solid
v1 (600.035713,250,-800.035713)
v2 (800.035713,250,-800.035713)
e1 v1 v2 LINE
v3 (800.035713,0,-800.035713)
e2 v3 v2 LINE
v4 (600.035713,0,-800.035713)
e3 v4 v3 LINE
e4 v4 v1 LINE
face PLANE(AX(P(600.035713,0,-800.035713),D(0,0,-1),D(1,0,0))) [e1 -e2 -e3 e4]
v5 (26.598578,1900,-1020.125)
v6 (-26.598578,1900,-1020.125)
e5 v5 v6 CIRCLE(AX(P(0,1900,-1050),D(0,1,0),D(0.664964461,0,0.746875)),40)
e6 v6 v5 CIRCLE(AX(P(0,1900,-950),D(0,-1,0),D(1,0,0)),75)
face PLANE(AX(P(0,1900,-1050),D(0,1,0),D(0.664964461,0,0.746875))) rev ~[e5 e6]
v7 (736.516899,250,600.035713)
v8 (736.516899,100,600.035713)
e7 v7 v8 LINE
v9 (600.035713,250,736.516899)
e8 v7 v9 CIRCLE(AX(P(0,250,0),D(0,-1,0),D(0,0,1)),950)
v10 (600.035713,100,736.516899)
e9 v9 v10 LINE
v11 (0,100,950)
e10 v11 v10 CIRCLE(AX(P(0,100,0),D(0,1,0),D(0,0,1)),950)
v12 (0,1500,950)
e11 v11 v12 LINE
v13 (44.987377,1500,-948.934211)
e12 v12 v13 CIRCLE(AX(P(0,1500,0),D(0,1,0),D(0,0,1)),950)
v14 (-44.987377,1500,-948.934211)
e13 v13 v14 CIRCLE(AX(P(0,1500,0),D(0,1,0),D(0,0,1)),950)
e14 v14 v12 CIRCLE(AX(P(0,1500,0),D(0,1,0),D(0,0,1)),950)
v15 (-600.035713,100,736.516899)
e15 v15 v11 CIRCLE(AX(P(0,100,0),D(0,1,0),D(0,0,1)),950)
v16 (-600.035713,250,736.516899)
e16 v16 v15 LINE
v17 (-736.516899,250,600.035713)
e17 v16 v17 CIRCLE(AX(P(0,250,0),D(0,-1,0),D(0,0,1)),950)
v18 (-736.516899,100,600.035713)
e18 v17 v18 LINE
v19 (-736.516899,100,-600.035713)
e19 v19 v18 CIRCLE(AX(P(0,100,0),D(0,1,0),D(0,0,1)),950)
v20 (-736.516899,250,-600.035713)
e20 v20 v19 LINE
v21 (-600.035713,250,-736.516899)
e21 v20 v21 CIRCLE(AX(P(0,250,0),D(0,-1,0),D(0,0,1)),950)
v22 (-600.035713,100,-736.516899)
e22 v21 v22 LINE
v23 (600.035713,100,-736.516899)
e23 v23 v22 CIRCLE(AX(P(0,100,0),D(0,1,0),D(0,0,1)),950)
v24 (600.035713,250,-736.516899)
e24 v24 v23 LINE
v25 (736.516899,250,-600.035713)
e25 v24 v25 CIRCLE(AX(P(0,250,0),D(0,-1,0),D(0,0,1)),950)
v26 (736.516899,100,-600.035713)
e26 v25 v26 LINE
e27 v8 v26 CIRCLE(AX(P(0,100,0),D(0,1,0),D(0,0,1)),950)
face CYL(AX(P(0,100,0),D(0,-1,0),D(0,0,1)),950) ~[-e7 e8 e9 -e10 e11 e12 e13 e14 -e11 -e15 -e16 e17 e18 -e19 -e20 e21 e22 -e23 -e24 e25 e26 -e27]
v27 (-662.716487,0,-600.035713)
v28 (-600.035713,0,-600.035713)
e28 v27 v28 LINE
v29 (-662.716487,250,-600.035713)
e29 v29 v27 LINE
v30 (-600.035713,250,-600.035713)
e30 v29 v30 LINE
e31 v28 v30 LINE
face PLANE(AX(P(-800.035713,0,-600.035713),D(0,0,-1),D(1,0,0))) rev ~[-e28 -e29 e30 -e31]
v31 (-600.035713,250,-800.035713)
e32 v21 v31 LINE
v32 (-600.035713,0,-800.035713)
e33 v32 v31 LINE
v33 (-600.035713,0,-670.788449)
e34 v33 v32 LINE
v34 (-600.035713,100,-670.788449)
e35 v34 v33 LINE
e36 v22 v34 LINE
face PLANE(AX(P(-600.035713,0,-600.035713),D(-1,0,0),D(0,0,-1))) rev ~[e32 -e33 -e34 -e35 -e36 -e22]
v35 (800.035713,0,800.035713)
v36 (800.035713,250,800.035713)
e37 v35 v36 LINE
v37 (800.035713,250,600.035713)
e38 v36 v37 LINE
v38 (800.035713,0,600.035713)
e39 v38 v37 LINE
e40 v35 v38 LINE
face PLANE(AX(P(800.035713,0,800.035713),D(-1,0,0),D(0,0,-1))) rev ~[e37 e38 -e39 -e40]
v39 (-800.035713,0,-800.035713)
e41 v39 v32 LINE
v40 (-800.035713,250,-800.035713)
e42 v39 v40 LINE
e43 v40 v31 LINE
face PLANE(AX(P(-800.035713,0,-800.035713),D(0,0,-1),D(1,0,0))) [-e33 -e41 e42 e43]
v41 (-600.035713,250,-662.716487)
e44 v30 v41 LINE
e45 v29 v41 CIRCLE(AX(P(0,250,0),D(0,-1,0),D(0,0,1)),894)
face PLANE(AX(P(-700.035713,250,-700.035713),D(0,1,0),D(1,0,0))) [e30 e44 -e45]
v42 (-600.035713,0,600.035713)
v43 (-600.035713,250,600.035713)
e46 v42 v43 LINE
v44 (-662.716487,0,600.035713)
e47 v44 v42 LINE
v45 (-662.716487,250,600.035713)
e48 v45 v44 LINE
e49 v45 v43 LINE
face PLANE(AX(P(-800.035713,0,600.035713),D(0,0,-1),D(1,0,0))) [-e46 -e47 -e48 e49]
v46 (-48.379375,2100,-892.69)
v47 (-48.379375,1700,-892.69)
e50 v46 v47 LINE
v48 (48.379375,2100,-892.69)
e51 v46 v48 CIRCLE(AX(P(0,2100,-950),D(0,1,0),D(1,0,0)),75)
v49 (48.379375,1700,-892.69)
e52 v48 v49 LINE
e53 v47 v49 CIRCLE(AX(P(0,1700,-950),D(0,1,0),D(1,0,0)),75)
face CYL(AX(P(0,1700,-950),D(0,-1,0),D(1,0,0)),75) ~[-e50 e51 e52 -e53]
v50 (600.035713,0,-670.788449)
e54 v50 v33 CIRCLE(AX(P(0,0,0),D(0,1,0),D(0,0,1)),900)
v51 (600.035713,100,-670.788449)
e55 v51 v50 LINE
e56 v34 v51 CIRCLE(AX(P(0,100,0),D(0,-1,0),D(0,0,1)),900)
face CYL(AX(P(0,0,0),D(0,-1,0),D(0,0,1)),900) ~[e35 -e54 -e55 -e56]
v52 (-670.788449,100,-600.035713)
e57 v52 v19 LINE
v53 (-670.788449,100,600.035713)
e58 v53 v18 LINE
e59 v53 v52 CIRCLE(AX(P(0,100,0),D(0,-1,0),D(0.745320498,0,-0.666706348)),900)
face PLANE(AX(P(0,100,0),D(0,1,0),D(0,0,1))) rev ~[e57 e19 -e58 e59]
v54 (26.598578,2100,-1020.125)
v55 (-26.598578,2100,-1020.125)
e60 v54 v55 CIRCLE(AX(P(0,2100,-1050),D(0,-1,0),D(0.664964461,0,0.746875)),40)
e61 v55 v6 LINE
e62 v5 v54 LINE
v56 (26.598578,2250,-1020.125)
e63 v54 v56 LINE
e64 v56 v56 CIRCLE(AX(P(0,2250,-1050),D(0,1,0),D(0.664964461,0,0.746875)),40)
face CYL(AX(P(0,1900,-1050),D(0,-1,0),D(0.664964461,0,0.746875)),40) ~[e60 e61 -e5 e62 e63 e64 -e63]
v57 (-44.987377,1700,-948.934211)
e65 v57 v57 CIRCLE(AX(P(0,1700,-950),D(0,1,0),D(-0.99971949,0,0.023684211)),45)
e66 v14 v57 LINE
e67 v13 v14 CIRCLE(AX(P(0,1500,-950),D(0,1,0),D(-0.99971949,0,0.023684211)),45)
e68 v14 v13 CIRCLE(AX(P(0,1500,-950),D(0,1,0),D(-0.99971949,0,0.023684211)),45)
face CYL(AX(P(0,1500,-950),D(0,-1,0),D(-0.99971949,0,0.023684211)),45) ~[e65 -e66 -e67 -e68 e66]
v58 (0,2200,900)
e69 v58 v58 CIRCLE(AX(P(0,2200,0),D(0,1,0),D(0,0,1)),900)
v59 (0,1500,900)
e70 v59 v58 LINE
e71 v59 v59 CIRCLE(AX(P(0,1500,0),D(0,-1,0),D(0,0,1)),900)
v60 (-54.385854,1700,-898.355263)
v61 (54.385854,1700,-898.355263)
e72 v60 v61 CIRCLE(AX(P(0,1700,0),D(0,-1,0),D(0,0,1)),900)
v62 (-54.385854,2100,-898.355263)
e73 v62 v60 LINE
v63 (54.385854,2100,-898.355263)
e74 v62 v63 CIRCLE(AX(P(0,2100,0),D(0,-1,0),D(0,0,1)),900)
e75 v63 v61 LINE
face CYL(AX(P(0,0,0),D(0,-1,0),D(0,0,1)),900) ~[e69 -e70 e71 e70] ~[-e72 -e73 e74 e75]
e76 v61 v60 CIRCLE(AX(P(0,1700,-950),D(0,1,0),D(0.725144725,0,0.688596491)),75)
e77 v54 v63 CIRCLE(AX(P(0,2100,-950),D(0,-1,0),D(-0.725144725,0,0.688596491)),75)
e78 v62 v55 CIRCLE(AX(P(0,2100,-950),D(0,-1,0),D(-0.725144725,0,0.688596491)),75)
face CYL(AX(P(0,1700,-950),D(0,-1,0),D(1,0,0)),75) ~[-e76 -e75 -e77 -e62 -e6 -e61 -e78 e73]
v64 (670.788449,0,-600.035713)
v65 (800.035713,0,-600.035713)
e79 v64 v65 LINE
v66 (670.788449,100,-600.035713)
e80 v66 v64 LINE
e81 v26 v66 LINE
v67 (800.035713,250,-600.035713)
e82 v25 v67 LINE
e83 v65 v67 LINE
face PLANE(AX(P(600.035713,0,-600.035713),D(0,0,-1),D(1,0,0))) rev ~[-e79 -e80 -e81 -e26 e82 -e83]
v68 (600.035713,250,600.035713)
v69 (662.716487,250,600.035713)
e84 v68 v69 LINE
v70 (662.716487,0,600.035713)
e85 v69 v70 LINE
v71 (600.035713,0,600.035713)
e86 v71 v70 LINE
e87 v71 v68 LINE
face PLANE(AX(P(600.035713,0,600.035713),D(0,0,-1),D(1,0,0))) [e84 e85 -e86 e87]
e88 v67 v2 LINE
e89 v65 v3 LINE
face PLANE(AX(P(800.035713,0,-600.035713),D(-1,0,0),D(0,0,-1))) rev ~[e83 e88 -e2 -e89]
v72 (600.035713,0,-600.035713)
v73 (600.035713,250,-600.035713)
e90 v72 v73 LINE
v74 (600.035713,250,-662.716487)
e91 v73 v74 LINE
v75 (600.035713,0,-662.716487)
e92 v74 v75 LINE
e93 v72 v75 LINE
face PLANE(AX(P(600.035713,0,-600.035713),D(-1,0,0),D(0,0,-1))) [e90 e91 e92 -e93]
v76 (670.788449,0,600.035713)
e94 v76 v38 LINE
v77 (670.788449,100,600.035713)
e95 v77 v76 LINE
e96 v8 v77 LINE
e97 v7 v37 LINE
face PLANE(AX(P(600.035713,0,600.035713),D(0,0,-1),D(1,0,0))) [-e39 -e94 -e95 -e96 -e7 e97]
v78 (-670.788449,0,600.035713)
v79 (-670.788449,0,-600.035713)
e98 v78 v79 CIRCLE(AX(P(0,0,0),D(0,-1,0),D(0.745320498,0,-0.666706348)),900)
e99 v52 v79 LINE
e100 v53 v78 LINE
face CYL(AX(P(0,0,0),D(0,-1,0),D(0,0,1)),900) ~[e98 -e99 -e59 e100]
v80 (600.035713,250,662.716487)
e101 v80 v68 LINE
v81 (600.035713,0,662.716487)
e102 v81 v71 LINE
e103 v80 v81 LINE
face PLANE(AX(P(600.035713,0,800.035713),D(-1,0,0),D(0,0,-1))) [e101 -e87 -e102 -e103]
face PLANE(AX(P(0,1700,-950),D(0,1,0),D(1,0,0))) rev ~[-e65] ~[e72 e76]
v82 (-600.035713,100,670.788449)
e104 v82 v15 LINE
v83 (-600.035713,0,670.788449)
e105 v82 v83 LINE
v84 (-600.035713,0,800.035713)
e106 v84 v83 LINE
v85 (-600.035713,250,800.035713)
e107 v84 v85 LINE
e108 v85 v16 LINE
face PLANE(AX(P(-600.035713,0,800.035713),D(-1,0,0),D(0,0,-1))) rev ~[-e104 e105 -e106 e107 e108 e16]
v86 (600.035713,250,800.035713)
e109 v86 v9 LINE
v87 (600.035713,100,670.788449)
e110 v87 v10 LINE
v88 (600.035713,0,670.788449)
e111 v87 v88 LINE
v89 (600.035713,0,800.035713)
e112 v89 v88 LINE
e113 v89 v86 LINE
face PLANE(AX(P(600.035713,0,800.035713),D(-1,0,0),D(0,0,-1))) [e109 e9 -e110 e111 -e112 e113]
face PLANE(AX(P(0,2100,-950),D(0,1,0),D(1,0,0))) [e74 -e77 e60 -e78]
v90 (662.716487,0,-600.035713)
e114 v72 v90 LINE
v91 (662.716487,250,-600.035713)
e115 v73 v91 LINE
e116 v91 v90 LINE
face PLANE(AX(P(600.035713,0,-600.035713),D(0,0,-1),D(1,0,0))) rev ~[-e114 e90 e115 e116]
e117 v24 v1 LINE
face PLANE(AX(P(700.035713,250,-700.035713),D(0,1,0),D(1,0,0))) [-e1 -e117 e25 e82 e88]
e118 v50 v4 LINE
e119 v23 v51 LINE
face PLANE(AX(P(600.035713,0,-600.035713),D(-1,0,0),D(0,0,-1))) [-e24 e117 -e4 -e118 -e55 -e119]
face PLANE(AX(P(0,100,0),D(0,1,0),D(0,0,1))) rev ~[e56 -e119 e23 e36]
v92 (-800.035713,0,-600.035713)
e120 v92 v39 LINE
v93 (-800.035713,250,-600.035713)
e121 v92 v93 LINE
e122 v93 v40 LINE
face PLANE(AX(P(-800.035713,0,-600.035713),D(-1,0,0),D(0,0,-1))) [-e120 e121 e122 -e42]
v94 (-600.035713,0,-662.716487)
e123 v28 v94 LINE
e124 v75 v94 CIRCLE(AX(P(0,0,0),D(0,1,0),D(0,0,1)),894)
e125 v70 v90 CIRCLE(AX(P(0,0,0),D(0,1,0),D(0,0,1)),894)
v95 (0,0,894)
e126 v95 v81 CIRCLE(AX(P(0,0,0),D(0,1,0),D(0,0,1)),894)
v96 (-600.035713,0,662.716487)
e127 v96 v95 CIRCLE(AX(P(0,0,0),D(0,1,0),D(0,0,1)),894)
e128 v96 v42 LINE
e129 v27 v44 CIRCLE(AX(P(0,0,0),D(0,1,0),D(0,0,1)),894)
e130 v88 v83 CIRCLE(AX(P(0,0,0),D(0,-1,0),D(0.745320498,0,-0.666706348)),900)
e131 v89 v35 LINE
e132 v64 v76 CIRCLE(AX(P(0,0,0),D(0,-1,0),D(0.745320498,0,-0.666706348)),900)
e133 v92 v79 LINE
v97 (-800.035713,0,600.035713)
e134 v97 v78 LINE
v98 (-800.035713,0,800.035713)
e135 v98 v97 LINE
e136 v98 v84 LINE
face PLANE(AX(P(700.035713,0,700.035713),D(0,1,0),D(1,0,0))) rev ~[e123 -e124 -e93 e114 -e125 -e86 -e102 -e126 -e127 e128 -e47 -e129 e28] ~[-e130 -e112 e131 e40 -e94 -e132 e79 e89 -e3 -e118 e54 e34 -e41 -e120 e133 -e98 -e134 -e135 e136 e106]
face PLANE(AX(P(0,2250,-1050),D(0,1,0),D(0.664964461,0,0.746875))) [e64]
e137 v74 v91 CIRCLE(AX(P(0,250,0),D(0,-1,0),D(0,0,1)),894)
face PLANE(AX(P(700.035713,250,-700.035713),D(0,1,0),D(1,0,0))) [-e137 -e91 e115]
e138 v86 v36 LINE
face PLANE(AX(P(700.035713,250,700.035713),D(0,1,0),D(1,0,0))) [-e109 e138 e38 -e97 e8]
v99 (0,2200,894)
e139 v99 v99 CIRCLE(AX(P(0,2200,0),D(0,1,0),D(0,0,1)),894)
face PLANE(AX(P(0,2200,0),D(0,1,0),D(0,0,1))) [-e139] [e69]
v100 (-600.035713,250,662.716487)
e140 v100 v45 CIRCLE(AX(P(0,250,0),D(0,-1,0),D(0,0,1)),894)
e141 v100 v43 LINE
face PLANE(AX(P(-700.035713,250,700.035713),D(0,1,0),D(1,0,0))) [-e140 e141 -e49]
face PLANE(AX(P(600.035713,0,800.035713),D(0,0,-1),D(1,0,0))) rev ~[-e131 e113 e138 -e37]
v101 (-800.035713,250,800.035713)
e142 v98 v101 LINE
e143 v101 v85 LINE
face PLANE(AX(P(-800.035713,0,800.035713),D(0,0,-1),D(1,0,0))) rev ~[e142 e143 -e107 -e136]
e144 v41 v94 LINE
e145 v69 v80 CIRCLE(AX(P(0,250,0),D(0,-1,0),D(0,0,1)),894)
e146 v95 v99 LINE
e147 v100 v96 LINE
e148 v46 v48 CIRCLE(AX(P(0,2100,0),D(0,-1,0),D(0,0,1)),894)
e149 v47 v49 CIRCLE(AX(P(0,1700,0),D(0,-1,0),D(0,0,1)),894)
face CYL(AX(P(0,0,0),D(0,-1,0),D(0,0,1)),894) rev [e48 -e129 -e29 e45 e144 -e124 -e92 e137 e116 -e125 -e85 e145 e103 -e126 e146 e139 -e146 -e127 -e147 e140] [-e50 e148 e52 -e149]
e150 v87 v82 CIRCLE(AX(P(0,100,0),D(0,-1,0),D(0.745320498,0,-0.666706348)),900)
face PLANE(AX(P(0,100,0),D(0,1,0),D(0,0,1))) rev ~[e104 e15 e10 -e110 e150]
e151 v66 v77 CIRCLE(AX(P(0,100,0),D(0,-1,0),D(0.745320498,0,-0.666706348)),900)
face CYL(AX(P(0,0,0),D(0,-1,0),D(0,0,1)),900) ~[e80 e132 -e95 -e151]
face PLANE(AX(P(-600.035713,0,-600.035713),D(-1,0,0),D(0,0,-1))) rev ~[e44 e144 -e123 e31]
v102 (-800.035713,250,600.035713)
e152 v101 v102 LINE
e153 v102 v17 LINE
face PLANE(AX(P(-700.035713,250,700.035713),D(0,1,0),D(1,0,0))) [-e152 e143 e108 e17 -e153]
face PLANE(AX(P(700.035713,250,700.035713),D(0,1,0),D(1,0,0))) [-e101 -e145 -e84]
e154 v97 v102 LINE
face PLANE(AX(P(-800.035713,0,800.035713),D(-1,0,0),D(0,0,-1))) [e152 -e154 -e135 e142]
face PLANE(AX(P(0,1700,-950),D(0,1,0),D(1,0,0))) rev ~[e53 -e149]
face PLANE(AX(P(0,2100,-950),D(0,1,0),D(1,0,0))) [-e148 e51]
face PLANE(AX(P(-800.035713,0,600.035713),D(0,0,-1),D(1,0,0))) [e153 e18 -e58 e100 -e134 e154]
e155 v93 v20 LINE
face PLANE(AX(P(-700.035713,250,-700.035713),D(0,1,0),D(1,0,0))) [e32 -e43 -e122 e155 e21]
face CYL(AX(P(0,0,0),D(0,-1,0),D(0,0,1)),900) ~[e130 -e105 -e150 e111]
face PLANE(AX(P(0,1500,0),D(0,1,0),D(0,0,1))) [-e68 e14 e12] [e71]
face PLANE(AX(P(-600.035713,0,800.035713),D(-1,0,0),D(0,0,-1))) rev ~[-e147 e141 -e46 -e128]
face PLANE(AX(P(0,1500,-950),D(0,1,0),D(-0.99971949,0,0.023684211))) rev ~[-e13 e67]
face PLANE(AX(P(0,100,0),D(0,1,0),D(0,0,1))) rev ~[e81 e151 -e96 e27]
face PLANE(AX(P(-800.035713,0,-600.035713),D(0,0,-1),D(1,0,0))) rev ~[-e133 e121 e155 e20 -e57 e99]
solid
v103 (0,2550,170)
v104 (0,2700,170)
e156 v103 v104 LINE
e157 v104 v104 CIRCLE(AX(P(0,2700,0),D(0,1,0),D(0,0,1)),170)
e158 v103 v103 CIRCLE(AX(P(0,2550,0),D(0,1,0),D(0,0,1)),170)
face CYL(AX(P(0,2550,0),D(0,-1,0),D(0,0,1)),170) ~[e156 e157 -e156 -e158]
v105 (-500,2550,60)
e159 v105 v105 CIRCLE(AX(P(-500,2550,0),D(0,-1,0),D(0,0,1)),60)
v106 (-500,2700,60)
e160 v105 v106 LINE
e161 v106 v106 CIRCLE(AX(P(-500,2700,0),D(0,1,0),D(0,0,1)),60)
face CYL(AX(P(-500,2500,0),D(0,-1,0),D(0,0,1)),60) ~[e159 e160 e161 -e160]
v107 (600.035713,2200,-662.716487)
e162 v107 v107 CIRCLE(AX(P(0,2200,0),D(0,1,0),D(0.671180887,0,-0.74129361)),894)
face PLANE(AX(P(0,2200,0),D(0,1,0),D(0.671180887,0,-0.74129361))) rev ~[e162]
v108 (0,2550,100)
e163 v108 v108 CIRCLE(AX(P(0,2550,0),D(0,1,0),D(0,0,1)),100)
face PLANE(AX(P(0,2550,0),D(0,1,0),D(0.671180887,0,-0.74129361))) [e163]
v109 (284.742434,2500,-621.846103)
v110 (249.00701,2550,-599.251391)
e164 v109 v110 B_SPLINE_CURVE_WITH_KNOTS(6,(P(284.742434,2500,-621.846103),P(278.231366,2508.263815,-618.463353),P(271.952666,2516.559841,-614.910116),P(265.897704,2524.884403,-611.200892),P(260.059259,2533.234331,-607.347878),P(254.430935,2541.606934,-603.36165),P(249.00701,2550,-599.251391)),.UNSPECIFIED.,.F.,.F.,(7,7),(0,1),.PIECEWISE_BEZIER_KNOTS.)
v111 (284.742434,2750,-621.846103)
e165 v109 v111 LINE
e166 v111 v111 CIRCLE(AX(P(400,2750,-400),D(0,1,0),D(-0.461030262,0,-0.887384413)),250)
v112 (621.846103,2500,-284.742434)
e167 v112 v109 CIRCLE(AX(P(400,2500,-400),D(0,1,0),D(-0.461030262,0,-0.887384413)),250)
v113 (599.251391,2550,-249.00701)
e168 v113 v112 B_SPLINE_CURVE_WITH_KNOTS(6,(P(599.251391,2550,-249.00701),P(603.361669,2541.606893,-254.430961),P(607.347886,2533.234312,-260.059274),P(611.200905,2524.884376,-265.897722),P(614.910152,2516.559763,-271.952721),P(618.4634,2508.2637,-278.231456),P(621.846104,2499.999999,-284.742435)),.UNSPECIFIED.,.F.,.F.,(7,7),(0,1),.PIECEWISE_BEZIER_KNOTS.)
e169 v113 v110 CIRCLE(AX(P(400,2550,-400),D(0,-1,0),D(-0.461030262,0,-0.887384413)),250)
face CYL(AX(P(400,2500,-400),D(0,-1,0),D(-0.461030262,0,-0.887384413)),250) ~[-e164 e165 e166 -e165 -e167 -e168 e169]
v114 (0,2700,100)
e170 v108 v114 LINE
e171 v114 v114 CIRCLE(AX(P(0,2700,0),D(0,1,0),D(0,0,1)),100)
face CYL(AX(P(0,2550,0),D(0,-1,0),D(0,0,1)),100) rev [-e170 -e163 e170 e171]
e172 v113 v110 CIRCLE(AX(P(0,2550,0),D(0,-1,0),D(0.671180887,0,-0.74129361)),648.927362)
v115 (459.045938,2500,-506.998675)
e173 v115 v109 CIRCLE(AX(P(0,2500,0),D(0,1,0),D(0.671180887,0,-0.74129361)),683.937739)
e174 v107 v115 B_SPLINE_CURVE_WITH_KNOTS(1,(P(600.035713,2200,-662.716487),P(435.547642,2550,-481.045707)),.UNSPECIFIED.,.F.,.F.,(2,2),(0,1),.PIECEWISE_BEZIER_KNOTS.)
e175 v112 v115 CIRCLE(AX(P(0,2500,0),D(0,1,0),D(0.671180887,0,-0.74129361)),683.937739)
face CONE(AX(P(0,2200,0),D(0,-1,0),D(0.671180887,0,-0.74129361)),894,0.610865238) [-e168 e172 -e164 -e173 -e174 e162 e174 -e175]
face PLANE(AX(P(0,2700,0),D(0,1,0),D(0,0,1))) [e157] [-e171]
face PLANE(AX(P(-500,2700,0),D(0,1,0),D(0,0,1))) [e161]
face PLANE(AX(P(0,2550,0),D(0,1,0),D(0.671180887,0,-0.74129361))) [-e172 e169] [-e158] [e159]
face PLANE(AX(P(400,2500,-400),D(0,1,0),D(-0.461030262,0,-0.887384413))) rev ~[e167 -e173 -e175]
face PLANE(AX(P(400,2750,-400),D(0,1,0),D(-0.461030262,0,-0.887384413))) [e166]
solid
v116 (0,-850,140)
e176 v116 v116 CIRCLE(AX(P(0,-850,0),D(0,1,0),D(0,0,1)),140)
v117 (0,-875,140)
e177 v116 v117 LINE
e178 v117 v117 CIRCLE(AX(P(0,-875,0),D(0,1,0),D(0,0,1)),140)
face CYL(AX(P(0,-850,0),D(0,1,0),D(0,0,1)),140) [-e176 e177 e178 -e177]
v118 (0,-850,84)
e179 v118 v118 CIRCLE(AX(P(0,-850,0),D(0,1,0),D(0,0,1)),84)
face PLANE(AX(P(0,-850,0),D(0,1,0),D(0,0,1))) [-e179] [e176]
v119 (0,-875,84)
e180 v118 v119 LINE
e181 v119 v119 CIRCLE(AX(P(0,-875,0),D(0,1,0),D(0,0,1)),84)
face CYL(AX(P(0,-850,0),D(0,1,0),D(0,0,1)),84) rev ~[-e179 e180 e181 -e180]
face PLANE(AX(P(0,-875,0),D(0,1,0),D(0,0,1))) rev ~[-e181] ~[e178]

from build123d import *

# Parameters (mm, degrees)
SKETCH1_R            = 900
SKETCH1_R_2          = 894
BOSS_EXTRUDE1_DEPTH  = 2200
BOSS_EXTRUDE2_START  = 100
SKETCH2_R            = 950
SKETCH2_R_2          = 894
BOSS_EXTRUDE2_DEPTH  = 1400
SKETCH3_W            = 200
SKETCH3_H            = 200
BOSS_EXTRUDE3_DEPTH  = 250
SKETCH4_W            = 200
SKETCH4_H            = 200
BOSS_EXTRUDE4_DEPTH  = 250
SKETCH5_W            = 200
SKETCH5_H            = 200
BOSS_EXTRUDE5_DEPTH  = 250
SKETCH6_W            = 200
SKETCH6_H            = 200
BOSS_EXTRUDE6_DEPTH  = 250
BOSS_EXTRUDE9_START  = -850
SKETCH9_R            = 140
SKETCH9_R_2          = 84
BOSS_EXTRUDE9_DEPTH  = 25
BOSS_EXTRUDE10_START = 2200
SKETCH10_R           = 894
BOSS_EXTRUDE10_DEPTH = 350
BOSS_EXTRUDE10_TAPER = 35
BOSS_EXTRUDE11_START = 2550
SKETCH11_R           = 170
SKETCH11_R_2         = 100
BOSS_EXTRUDE11_DEPTH = 150
BOSS_EXTRUDE12_START = 2500
SKETCH12_R           = 250
BOSS_EXTRUDE12_DEPTH = 250
BOSS_EXTRUDE13_START = 2500
SKETCH13_R           = 60
BOSS_EXTRUDE13_DEPTH = 200
BOSS_EXTRUDE14_START = 2500
SKETCH14_R           = 30
BOSS_EXTRUDE14_DEPTH = 200
BOSS_EXTRUDE15_START = 1500
SKETCH15_R           = 45
BOSS_EXTRUDE15_DEPTH = 200
BOSS_EXTRUDE16_START = 1700
SKETCH16_R           = 75
BOSS_EXTRUDE16_DEPTH = 400
BOSS_EXTRUDE17_START = 1900
SKETCH17_R           = 40
BOSS_EXTRUDE17_DEPTH = 350
BOSS_EXTRUDE18_START = 2350
SKETCH18_R           = 35
BOSS_EXTRUDE18_DEPTH = 150


with BuildPart() as part:
    # Sketch1 → Boss-Extrude1 (new body)
    with BuildSketch(Plane(origin=(0, 0, 0), x_dir=(1, 0, 0), z_dir=(0, 1, 0))):
        with Locations(Location((0, 0, 0), (0, 0, 270))):
            Circle(SKETCH1_R)
        with Locations(Location((0, 0, 0), (0, 0, 270))):
            Circle(SKETCH1_R_2, mode=Mode.SUBTRACT)
    extrude(amount=BOSS_EXTRUDE1_DEPTH)

    # Sketch2 → Boss-Extrude2 (add)
    with BuildSketch(Plane(origin=(0, 0, 0), x_dir=(1, 0, 0), z_dir=(0, 1, 0)).offset(BOSS_EXTRUDE2_START)):
        with Locations(Location((0, 0, 0), (0, 0, 270))):
            Circle(SKETCH2_R)
        with Locations(Location((0, 0, 0), (0, 0, 270))):
            Circle(SKETCH2_R_2, mode=Mode.SUBTRACT)
    extrude(amount=BOSS_EXTRUDE2_DEPTH)

    # Sketch3 → Boss-Extrude3 (add)
    with BuildSketch(Plane(origin=(0, 0, 0), x_dir=(1, 0, 0), z_dir=(0, 1, 0))):
        with Locations((700.035713375, 700.035713375)):
            Rectangle(SKETCH3_W, SKETCH3_H)
    extrude(amount=BOSS_EXTRUDE3_DEPTH)

    # Sketch4 → Boss-Extrude4 (add)
    with BuildSketch(Plane(origin=(0, 0, 0), x_dir=(1, 0, 0), z_dir=(0, 1, 0))):
        with Locations((-700.035713375, 700.035713375)):
            Rectangle(SKETCH4_W, SKETCH4_H)
    extrude(amount=BOSS_EXTRUDE4_DEPTH)

    # Sketch5 → Boss-Extrude5 (add)
    with BuildSketch(Plane(origin=(0, 0, 0), x_dir=(1, 0, 0), z_dir=(0, 1, 0))):
        with Locations((-700.035713375, -700.035713375)):
            Rectangle(SKETCH5_W, SKETCH5_H)
    extrude(amount=BOSS_EXTRUDE5_DEPTH)

    # Sketch6 → Boss-Extrude6 (add)
    with BuildSketch(Plane(origin=(0, 0, 0), x_dir=(1, 0, 0), z_dir=(0, 1, 0))):
        with Locations((700.035713375, -700.035713375)):
            Rectangle(SKETCH6_W, SKETCH6_H)
    extrude(amount=BOSS_EXTRUDE6_DEPTH)

    # Sketch15 → Boss-Extrude15 (add)
    with BuildSketch(Plane(origin=(0, 0, 0), x_dir=(1, 0, 0), z_dir=(0, 1, 0)).offset(BOSS_EXTRUDE15_START)):
        with Locations(Location((0, 950, 0), (0, 0, 181.357132203))):
            Circle(SKETCH15_R)
    extrude(amount=BOSS_EXTRUDE15_DEPTH)

    # Sketch16 → Boss-Extrude16 (add)
    with BuildSketch(Plane(origin=(0, 0, 0), x_dir=(1, 0, 0), z_dir=(0, 1, 0)).offset(BOSS_EXTRUDE16_START)):
        with Locations((0, 950)):
            Circle(SKETCH16_R)
    extrude(amount=BOSS_EXTRUDE16_DEPTH)

    # Sketch17 → Boss-Extrude17 (add)
    with BuildSketch(Plane(origin=(0, 0, 0), x_dir=(1, 0, 0), z_dir=(0, 1, 0)).offset(BOSS_EXTRUDE17_START)):
        with Locations(Location((0, 1050, 0), (0, 0, 311.679598995))):
            Circle(SKETCH17_R)
    extrude(amount=BOSS_EXTRUDE17_DEPTH)


with BuildPart() as body_2:
    # Sketch9 → Boss-Extrude9 (new body)
    with BuildSketch(Plane(origin=(0, 0, 0), x_dir=(1, 0, 0), z_dir=(0, 1, 0)).offset(BOSS_EXTRUDE9_START)):
        with Locations(Location((0, 0, 0), (0, 0, 270))):
            Circle(SKETCH9_R)
        with Locations(Location((0, 0, 0), (0, 0, 270))):
            Circle(SKETCH9_R_2, mode=Mode.SUBTRACT)
    extrude(amount=-BOSS_EXTRUDE9_DEPTH)


with BuildPart() as body_3:
    # Sketch10 → Boss-Extrude10 (new body)
    with BuildSketch(Plane(origin=(0, 0, 0), x_dir=(1, 0, 0), z_dir=(0, 1, 0)).offset(BOSS_EXTRUDE10_START)):
        with Locations(Location((0, 0, 0), (0, 0, 47.841728191))):
            Circle(SKETCH10_R)
    extrude(amount=BOSS_EXTRUDE10_DEPTH, taper=BOSS_EXTRUDE10_TAPER)

    # Sketch11 → Boss-Extrude11 (add)
    with BuildSketch(Plane(origin=(0, 0, 0), x_dir=(1, 0, 0), z_dir=(0, 1, 0)).offset(BOSS_EXTRUDE11_START)):
        with Locations(Location((0, 0, 0), (0, 0, 270))):
            Circle(SKETCH11_R)
        with Locations(Location((0, 0, 0), (0, 0, 270))):
            Circle(SKETCH11_R_2, mode=Mode.SUBTRACT)
    extrude(amount=BOSS_EXTRUDE11_DEPTH)

    # Sketch12 → Boss-Extrude12 (add)
    with BuildSketch(Plane(origin=(0, 0, 0), x_dir=(1, 0, 0), z_dir=(0, 1, 0)).offset(BOSS_EXTRUDE12_START)):
        with Locations(Location((400, 400, 0), (0, 0, 117.453608456))):
            Circle(SKETCH12_R)
    extrude(amount=BOSS_EXTRUDE12_DEPTH)

    # Sketch13 → Boss-Extrude13 (add)
    with BuildSketch(Plane(origin=(0, 0, 0), x_dir=(1, 0, 0), z_dir=(0, 1, 0)).offset(BOSS_EXTRUDE13_START)):
        with Locations(Location((-500, 0, 0), (0, 0, 270))):
            Circle(SKETCH13_R)
    extrude(amount=BOSS_EXTRUDE13_DEPTH)

    # Sketch14 → Boss-Extrude14 (add)
    with BuildSketch(Plane(origin=(0, 0, 0), x_dir=(1, 0, 0), z_dir=(0, 1, 0)).offset(BOSS_EXTRUDE14_START)):
        with Locations((400, 300)):
            Circle(SKETCH14_R)
    extrude(amount=BOSS_EXTRUDE14_DEPTH)

    # Sketch18 → Boss-Extrude18 (add)
    with BuildSketch(Plane(origin=(0, 0, 0), x_dir=(1, 0, 0), z_dir=(0, 1, 0)).offset(BOSS_EXTRUDE18_START)):
        with Locations((500, 0)):
            Circle(SKETCH18_R)
    extrude(amount=BOSS_EXTRUDE18_DEPTH)


solid = Compound([part.part, body_2.part, body_3.part])
